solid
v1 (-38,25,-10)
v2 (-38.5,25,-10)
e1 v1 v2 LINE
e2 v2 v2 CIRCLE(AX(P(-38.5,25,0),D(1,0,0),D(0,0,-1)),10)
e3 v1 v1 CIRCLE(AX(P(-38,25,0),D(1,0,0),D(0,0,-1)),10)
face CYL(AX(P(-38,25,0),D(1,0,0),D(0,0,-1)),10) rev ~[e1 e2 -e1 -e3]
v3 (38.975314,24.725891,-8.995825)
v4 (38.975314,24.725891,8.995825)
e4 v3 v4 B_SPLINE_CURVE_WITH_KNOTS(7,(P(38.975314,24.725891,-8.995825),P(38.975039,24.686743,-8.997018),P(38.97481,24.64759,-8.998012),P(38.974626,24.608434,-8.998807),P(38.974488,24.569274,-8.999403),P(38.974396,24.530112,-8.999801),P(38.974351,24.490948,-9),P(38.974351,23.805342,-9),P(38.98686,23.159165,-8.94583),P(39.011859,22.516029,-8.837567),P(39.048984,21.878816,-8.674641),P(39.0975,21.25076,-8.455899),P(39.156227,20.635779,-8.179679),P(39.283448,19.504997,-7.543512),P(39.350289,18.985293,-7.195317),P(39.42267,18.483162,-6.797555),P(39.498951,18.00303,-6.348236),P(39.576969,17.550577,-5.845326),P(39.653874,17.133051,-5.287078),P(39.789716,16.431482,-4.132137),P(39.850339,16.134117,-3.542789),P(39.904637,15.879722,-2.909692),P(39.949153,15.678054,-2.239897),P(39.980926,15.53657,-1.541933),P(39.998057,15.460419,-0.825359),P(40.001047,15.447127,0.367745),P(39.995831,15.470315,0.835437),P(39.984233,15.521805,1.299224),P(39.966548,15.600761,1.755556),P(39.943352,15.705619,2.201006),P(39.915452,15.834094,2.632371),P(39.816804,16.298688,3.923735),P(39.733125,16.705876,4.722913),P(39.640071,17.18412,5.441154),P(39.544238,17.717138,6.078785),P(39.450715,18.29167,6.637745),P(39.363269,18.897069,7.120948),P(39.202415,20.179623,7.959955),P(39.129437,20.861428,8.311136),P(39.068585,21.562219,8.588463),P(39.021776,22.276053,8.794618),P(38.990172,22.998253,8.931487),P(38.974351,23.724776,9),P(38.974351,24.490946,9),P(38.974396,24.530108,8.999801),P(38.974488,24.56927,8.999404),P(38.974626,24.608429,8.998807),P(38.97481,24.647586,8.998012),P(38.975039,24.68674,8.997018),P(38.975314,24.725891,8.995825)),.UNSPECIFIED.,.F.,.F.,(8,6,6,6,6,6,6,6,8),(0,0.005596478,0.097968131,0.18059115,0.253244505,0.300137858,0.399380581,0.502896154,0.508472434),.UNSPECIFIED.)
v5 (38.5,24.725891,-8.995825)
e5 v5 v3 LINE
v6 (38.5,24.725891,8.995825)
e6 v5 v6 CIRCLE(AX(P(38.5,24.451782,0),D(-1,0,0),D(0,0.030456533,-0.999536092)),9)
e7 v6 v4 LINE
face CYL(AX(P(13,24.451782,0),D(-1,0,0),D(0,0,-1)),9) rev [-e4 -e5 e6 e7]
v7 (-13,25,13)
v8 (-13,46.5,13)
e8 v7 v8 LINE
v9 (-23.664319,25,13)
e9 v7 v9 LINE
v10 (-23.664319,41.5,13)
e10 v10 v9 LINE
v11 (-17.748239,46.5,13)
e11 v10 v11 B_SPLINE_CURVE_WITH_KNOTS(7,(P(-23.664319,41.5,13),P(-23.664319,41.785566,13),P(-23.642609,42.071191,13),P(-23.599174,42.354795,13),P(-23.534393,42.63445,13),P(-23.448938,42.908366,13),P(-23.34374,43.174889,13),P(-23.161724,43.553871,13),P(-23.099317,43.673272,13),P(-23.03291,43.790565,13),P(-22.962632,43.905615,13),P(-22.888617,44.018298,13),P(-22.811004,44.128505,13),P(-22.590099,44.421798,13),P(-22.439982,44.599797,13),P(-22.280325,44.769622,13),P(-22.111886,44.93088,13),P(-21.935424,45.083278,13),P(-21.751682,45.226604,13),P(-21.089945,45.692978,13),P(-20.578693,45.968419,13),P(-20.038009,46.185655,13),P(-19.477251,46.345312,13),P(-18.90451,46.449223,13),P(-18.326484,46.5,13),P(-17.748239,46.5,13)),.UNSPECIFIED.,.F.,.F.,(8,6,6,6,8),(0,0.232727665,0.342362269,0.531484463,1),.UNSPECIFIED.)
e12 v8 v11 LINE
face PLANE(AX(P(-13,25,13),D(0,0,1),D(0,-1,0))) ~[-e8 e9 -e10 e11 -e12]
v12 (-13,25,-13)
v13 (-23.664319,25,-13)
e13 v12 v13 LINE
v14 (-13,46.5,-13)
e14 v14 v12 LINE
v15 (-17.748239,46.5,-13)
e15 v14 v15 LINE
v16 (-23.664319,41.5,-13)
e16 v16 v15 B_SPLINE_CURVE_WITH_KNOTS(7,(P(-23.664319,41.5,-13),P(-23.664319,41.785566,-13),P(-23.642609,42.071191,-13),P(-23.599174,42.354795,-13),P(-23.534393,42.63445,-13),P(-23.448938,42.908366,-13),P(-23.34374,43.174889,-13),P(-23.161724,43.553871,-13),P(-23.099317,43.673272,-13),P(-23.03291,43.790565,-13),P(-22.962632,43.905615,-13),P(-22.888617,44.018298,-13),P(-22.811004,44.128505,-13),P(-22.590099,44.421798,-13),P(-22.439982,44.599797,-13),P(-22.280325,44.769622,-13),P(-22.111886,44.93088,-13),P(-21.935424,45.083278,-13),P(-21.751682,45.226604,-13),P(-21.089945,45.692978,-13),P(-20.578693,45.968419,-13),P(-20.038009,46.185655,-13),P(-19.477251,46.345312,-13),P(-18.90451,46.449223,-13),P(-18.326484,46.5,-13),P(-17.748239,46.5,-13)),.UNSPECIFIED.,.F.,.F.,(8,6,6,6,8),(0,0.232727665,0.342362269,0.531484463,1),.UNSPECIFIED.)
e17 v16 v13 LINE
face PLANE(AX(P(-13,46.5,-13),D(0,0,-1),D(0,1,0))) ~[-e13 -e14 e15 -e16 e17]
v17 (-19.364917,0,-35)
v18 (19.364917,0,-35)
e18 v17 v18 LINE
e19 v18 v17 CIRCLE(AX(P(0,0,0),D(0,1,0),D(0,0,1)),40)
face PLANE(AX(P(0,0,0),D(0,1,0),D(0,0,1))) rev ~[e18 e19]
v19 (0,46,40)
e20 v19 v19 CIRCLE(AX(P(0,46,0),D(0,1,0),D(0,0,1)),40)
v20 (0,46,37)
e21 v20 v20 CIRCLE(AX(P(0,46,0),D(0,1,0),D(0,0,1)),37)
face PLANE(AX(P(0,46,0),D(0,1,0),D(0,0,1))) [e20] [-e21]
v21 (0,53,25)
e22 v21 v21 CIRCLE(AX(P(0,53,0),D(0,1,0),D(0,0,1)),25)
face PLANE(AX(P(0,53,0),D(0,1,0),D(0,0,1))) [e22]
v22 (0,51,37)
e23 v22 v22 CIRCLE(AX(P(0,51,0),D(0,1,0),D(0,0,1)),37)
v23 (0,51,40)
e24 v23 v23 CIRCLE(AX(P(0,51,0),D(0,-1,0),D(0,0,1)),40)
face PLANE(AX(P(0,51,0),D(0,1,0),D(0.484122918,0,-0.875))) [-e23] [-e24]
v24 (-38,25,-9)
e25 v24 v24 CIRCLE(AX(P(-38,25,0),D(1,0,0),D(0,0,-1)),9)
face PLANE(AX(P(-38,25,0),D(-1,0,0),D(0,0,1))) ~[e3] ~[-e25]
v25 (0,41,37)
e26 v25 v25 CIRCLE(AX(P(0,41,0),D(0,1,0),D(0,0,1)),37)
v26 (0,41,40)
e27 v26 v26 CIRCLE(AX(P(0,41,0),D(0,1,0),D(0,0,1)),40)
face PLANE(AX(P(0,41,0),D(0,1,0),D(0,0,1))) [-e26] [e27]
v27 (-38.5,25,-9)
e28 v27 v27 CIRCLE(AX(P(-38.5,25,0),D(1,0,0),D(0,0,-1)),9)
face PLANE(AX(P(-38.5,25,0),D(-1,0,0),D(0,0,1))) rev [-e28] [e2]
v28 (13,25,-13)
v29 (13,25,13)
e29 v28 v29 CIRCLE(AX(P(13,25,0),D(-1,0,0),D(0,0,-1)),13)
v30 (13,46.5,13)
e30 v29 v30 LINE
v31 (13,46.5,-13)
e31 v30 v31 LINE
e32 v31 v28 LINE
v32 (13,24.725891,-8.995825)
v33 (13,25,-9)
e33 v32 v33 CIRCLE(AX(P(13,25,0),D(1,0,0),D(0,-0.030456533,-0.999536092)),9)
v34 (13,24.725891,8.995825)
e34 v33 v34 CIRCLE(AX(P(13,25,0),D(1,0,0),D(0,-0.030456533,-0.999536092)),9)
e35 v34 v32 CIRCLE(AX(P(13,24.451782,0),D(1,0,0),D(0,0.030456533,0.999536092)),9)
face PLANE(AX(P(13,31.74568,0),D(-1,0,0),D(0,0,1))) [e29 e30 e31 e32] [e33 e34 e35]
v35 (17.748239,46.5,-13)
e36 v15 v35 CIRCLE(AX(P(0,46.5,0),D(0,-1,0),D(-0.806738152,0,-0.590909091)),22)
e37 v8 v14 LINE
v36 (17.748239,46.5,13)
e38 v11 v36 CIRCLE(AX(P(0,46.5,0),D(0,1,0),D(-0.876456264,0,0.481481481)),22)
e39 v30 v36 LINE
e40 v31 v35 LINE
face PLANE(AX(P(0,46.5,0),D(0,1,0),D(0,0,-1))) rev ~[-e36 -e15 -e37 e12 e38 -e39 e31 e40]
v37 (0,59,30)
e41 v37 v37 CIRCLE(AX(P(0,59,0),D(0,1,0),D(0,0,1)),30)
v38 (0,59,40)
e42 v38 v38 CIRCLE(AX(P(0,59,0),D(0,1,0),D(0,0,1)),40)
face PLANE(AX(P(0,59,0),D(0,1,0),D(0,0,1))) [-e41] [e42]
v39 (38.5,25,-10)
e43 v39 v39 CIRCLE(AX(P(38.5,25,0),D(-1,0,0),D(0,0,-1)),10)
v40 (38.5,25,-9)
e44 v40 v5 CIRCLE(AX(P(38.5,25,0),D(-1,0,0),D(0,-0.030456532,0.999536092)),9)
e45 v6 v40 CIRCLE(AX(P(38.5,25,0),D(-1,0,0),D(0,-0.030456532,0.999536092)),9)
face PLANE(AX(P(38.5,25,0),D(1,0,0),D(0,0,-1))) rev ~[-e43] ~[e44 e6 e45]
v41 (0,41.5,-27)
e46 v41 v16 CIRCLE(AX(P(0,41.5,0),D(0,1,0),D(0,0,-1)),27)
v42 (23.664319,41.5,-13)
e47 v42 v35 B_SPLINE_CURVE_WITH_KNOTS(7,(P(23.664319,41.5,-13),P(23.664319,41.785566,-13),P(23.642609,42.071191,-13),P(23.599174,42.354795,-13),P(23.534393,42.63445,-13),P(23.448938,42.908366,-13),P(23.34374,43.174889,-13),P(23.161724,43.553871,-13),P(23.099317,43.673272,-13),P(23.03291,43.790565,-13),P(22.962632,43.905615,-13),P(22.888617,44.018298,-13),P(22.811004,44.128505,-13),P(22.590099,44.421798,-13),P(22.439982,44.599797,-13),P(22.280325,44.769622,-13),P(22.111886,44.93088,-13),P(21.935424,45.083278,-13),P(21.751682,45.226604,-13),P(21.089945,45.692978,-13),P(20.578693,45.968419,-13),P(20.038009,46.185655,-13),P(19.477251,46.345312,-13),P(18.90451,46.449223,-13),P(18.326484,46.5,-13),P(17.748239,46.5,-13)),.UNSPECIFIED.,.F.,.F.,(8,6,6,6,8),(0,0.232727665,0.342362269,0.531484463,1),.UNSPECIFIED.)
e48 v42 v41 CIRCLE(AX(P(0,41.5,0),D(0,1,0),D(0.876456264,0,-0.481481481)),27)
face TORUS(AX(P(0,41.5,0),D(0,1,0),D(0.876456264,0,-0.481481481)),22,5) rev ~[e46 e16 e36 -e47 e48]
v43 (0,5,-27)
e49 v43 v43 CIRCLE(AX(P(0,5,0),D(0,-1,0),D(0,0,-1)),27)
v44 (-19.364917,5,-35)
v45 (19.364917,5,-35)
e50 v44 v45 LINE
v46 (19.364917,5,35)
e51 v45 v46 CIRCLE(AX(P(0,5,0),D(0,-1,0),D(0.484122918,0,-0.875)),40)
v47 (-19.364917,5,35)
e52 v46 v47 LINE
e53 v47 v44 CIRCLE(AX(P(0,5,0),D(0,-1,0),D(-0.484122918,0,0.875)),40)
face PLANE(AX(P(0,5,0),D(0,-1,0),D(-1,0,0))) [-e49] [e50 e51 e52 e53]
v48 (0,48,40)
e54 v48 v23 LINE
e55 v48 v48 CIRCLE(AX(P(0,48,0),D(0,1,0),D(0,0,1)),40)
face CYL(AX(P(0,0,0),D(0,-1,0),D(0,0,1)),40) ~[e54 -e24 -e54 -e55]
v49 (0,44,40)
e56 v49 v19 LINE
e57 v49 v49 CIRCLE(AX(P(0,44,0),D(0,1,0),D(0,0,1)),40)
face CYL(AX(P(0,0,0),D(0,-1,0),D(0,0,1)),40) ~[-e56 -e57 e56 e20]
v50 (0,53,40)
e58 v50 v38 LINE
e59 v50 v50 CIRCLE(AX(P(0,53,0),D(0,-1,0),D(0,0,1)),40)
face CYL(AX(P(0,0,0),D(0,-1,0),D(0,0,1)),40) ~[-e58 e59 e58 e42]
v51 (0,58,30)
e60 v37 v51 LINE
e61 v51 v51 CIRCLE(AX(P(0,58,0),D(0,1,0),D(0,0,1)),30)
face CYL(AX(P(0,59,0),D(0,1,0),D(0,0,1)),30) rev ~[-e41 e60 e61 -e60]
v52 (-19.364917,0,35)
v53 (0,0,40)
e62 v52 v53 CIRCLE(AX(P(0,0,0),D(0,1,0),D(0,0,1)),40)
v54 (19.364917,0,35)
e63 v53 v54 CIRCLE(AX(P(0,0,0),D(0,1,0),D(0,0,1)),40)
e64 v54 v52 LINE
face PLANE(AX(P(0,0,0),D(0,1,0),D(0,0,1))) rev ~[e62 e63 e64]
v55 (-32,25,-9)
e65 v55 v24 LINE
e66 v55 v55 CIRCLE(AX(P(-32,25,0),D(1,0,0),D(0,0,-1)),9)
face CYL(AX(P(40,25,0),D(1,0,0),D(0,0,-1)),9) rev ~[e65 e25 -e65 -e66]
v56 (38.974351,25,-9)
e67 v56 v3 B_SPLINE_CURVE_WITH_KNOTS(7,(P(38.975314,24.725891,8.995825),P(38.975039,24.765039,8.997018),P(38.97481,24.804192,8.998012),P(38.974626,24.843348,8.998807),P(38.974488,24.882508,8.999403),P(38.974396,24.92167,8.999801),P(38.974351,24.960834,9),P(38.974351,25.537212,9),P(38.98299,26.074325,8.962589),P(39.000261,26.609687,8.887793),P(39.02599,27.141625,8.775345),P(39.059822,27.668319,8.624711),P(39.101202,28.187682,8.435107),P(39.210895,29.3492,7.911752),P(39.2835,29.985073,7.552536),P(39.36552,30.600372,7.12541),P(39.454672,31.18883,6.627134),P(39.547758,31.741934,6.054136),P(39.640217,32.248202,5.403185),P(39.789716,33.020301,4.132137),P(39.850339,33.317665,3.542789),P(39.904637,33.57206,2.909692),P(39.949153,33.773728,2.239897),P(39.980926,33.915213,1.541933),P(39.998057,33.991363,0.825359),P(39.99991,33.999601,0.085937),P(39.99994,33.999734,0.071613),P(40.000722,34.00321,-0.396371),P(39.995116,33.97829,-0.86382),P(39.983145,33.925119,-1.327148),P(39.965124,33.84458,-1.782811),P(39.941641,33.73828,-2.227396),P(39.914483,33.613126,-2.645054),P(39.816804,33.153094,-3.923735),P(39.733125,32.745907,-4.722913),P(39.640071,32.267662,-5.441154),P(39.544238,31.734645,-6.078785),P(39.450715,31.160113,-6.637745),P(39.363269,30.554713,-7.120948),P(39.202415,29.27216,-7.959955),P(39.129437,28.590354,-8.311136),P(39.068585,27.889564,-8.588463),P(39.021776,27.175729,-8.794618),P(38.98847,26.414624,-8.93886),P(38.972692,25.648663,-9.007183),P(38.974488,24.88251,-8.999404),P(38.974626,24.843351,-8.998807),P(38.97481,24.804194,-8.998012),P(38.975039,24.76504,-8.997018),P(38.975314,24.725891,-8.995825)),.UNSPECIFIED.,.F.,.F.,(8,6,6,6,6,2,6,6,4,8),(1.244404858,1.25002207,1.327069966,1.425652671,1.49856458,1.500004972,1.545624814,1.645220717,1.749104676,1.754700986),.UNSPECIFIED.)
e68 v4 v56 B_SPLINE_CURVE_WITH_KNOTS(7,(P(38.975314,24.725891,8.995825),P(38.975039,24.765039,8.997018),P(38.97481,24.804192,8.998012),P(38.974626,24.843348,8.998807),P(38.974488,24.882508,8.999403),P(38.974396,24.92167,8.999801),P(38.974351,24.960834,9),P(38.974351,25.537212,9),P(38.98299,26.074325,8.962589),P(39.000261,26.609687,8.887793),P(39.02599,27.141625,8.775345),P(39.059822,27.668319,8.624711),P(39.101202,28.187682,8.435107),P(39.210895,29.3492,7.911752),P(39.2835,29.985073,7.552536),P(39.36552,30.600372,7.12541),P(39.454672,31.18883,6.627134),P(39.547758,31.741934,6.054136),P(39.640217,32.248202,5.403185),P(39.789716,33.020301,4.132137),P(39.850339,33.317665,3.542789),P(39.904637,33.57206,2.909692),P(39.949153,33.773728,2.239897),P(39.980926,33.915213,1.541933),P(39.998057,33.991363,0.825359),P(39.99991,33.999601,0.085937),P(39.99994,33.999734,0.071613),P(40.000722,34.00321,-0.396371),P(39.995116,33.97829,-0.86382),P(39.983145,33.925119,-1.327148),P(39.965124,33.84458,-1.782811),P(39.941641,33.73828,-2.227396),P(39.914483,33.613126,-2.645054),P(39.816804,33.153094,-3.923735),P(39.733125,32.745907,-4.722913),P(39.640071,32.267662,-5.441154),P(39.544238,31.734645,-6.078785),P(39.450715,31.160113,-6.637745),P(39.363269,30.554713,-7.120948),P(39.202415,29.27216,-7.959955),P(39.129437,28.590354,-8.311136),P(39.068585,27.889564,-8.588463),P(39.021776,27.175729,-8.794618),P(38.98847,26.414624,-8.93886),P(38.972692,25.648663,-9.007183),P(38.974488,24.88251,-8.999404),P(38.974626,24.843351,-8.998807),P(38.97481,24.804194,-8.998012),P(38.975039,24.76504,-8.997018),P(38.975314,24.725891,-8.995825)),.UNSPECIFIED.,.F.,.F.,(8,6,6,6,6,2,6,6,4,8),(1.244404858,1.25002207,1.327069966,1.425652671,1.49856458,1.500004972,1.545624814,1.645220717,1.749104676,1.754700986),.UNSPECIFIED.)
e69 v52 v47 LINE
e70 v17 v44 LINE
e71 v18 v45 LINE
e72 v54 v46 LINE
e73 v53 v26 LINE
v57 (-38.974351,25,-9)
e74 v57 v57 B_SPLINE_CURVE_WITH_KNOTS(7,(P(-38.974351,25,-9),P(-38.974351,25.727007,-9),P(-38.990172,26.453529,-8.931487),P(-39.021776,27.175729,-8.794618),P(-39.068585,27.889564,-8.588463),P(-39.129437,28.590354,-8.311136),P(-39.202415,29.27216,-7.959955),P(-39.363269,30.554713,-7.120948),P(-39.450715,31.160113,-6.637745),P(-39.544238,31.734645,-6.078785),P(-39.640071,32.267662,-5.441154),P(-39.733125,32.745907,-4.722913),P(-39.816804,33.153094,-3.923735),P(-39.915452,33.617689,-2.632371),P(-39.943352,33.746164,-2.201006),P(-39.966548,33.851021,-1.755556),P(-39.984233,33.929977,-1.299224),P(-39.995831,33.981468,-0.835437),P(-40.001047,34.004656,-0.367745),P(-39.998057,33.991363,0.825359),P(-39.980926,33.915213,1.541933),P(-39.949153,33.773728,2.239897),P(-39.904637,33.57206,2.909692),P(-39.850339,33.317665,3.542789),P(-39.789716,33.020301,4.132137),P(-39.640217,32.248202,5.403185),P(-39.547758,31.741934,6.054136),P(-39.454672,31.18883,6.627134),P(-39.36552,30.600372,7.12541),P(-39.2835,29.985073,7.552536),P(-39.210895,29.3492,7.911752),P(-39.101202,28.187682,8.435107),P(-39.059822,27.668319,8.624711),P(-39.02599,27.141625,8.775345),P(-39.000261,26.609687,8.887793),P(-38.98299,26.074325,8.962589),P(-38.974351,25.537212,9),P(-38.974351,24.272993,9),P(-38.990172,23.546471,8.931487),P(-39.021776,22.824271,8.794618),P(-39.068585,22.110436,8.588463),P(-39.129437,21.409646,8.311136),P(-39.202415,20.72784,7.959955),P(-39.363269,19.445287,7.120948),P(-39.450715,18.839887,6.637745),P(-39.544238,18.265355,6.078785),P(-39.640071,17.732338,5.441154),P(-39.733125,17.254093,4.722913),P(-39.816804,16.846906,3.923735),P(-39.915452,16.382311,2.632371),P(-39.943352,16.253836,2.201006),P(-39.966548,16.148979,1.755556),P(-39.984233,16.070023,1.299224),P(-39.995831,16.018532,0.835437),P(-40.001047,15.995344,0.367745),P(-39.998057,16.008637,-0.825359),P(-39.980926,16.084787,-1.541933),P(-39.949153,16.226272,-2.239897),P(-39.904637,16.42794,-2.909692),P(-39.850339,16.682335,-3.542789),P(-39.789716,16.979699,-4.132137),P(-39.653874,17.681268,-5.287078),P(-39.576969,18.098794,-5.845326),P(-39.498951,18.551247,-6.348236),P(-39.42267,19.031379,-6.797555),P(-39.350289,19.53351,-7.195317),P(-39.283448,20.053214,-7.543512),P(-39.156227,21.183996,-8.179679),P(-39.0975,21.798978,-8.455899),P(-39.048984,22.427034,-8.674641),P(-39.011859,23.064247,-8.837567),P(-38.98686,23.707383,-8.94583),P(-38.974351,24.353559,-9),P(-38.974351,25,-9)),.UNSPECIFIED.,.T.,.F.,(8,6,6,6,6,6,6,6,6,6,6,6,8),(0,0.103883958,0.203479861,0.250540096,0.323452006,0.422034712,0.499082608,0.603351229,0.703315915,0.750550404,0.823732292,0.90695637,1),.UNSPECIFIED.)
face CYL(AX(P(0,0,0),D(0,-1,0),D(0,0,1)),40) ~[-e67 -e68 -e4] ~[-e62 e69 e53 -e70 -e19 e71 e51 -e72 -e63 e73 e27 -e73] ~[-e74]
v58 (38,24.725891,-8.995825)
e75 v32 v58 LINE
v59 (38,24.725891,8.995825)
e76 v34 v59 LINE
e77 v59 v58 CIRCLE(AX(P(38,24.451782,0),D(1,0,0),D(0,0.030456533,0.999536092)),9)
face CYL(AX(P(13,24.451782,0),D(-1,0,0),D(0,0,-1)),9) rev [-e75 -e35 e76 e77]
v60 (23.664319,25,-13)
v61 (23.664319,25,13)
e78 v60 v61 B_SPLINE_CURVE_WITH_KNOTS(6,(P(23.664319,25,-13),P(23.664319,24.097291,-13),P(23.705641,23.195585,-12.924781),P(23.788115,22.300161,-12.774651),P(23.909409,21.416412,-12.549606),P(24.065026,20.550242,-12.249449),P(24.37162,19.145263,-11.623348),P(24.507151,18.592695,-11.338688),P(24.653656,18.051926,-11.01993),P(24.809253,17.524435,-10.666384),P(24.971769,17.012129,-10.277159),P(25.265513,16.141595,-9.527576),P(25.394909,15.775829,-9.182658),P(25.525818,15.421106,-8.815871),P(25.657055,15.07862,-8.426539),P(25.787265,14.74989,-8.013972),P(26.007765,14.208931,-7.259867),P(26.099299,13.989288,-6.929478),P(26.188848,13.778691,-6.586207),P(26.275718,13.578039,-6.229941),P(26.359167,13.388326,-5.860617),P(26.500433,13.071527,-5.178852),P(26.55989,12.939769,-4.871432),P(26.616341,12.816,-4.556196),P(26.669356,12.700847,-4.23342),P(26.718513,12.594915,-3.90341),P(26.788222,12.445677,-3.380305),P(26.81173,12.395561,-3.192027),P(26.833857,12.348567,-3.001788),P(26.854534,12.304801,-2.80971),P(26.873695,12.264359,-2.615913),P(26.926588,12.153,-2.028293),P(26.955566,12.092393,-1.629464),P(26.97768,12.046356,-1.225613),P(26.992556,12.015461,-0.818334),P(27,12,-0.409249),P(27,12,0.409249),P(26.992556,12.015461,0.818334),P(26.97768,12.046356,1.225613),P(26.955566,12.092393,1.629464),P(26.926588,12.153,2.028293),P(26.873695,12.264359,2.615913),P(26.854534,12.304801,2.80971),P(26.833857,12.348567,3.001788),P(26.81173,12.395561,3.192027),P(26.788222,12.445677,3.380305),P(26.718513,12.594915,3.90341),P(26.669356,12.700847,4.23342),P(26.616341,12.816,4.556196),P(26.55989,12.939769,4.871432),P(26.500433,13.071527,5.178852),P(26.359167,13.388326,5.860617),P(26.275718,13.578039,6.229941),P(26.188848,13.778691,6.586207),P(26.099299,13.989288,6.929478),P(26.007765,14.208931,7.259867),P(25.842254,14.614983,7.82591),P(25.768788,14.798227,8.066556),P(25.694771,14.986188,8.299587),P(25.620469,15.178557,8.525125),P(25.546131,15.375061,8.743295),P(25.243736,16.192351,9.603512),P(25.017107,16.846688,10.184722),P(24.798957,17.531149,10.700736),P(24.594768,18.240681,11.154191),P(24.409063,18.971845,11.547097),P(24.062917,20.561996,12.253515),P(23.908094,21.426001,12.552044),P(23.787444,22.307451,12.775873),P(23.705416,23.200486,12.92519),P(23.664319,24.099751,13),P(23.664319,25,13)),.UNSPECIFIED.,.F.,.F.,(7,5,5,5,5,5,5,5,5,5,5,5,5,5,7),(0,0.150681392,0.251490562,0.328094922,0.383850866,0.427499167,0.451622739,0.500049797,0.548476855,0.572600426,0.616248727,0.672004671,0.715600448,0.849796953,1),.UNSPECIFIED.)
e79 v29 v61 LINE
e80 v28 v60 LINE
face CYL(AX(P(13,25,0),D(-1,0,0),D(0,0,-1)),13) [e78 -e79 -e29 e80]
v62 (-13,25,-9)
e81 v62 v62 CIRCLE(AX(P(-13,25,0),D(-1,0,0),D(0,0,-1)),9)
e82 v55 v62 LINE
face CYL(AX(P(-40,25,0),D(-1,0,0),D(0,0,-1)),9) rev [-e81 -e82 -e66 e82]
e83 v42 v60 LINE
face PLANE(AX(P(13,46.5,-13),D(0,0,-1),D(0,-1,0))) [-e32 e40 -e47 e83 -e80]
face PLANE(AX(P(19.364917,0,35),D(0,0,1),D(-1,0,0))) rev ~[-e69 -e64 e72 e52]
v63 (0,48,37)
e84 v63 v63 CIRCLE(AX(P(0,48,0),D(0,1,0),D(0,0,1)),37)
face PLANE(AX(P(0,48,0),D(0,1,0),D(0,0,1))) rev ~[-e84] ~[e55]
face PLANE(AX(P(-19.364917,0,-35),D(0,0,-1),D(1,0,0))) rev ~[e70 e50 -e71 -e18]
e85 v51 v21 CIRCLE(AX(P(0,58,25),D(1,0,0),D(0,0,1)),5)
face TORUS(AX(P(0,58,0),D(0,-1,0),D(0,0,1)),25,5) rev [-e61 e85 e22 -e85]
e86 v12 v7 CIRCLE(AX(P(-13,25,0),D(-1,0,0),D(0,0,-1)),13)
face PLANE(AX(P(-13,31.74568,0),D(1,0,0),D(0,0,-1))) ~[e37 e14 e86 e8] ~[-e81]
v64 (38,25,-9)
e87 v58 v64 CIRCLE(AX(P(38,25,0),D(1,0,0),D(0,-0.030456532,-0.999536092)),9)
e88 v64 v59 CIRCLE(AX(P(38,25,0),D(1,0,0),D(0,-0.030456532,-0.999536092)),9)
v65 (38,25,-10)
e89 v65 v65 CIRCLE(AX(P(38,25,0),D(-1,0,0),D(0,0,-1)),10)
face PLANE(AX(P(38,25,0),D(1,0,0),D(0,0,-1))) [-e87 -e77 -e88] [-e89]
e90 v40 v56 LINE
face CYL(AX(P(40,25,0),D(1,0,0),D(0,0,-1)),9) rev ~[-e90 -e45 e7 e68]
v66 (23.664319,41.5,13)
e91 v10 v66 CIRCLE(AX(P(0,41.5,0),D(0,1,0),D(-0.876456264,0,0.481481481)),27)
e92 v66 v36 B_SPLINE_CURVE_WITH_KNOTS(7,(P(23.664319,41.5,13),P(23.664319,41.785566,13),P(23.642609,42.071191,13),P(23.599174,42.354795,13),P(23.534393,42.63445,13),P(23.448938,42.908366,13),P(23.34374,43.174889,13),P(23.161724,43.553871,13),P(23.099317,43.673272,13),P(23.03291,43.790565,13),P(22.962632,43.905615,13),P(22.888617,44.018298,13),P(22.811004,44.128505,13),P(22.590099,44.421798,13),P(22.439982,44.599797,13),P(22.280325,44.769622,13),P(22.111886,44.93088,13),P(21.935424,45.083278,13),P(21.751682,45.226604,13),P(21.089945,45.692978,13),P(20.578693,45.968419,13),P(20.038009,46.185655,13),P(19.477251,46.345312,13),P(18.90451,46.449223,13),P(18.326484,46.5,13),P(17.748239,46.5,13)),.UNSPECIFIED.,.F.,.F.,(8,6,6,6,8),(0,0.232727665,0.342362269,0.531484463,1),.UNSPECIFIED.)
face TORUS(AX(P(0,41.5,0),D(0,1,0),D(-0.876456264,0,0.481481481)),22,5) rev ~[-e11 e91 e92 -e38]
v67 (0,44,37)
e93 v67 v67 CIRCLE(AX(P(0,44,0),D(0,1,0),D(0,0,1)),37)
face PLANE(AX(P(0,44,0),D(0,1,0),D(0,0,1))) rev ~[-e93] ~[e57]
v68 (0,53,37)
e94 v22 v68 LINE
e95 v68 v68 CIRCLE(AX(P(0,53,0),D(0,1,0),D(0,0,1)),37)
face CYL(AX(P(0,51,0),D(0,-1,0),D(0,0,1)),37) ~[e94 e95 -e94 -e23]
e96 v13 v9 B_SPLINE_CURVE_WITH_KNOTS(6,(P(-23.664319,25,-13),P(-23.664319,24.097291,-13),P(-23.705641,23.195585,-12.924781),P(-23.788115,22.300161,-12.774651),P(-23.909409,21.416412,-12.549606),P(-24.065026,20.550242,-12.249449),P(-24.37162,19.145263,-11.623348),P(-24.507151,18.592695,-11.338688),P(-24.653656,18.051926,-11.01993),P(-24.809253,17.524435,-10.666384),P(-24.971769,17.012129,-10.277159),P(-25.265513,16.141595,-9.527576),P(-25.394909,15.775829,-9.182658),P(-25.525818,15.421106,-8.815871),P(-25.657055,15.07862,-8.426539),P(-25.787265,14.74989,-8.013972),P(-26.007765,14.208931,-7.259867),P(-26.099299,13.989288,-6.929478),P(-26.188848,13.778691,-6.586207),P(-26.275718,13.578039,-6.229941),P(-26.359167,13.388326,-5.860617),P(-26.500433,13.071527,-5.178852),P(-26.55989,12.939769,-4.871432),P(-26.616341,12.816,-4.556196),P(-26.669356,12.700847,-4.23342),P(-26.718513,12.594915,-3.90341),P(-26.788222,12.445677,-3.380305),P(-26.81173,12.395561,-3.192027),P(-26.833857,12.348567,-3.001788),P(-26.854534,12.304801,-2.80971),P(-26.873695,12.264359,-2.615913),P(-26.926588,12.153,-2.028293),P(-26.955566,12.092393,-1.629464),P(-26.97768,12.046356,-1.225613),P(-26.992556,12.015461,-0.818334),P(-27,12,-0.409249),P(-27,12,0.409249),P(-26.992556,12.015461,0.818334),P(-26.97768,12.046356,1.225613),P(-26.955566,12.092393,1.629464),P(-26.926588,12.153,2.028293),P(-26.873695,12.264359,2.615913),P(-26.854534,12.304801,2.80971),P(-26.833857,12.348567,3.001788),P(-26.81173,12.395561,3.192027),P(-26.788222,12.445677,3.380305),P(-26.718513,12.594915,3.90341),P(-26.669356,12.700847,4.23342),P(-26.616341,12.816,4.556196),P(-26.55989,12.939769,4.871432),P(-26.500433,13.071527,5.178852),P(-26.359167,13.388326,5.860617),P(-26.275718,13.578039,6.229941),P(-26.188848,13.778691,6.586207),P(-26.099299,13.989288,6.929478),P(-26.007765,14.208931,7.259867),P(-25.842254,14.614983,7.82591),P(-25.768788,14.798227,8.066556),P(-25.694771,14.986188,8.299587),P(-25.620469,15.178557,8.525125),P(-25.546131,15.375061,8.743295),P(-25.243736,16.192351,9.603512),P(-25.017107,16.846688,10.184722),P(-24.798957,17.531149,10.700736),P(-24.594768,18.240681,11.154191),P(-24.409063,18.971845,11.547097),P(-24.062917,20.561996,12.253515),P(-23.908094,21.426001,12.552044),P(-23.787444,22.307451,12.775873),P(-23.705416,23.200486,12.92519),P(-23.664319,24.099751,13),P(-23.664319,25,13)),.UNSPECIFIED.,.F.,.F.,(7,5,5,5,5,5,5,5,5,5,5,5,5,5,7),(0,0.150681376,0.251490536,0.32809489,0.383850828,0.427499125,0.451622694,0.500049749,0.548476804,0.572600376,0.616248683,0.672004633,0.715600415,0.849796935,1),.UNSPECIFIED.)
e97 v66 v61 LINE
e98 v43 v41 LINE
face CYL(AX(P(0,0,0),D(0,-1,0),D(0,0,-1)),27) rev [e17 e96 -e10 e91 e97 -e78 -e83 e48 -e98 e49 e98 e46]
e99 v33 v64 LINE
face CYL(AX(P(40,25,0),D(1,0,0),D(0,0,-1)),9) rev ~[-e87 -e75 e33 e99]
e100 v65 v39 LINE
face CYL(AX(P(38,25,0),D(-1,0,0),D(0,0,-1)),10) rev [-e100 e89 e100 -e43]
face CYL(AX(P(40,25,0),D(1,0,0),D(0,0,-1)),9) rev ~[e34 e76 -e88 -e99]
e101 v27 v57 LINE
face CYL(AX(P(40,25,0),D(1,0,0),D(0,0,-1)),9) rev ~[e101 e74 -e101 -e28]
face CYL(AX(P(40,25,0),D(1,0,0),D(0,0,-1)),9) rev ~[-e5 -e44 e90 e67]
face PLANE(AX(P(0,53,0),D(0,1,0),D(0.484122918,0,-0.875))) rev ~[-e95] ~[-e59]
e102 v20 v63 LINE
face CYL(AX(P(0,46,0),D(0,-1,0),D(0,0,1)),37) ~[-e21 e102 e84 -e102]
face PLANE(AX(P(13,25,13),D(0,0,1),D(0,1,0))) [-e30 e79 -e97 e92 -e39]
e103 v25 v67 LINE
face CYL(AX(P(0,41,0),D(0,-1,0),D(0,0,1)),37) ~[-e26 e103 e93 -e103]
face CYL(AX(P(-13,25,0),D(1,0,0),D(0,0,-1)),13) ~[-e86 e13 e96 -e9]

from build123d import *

# Parameters (mm, degrees)
SKETCH_1_R                                 = 40
EXTRUDE_1_DEPTH                            = 59
CUT_EXTRUDE_1_DEPTH                        = 5
SKETCH_4_R                                 = 9
CUT_EXTRUDE_2_DEPTH                        = 108.14942837
CUT_EXTRUDE_START                          = -2
SKETCH_7_R                                 = 40
SKETCH_7_R_2                               = 37
CUT_EXTRUDE_4_DEPTH                        = 2
SKETCH_8_R                                 = 40
SKETCH_8_R_2                               = 37
CUT_EXTRUDE_5_DEPTH                        = 2
CUT_EXTRUDE_START_2                        = -3
SKETCH_10_R                                = 40
SKETCH_10_R_2                              = 37
CUT_EXTRUDE_6_DEPTH                        = 3
SKETCH_6_R                                 = 30
CUT_EXTRUDE_7_DEPTH                        = 6
FILLET_2_R                                 = 5
SKETCH_17_R                                = 10
CUT_EXTRUDE_11_DEPTH                       = 0.5
MIRROR_1_AT_THE_SECOND_PLANE_COPY_1_SKET_R = 10
MIRROR_1_AT_THE_SECOND_PLANE_COPY_1_DEPTH  = 0.5
SKETCH_13_R                                = 27
CUT_EXTRUDE_12_DEPTH                       = 46.5
EXTRUDE_2_DEPTH                            = 19
SKETCH_21_R                                = 9
CUT_EXTRUDE_13_DEPTH                       = 108.149428482
SKETCH_22_R                                = 9
CUT_EXTRUDE_14_DEPTH                       = 89.82567207
FILLET_7_R                                 = 5


with BuildPart() as part:
    # 草图1 → 凸台-拉伸1 (new body)
    with BuildSketch(Plane(origin=(0, 0, 0), x_dir=(1, 0, 0), z_dir=(0, 1, 0))):
        Circle(SKETCH_1_R)
    extrude(amount=EXTRUDE_1_DEPTH)

    # 草图2 → 切除-拉伸1 (cut)
    with BuildSketch(Plane(origin=(0, 0, 0), x_dir=(-1, 0, 0), z_dir=(0, -1, 0))):
        with BuildLine():
            Line((-19.364916731, -35), (19.364916731, -35))
            ThreePointArc((19.364916731, -35), (40, 0), (19.364916731, 35))
            Line((19.364916731, 35), (-19.364916731, 35))
            ThreePointArc((-19.364916731, 35), (-40, 0), (-19.364916731, -35))
        make_face()
    extrude(amount=-CUT_EXTRUDE_1_DEPTH, mode=Mode.SUBTRACT)

    # 草图4 → 切除-拉伸2 (cut, through all)
    with BuildSketch(Plane(origin=(40, 0, 0), x_dir=(0, 0, -1), z_dir=(1, 0, 0))):
        with Locations((0, 25)):
            Circle(SKETCH_4_R)
    cut_extrude_2 = extrude(amount=-CUT_EXTRUDE_2_DEPTH, mode=Mode.SUBTRACT)

    # 草图7 → 切除-拉伸4 (cut)
    with BuildSketch(Plane(origin=(0, 53, 0), x_dir=(1, 0, 0), z_dir=(0, 1, 0)).offset(CUT_EXTRUDE_START)):
        Circle(SKETCH_7_R)
        Circle(SKETCH_7_R_2, mode=Mode.SUBTRACT)
    extrude(amount=CUT_EXTRUDE_4_DEPTH, mode=Mode.SUBTRACT)

    # 草图8 → 切除-拉伸5 (cut)
    with BuildSketch(Plane(origin=(0, 48, 0), x_dir=(1, 0, 0), z_dir=(0, 1, 0)).offset(CUT_EXTRUDE_START)):
        Circle(SKETCH_8_R)
        Circle(SKETCH_8_R_2, mode=Mode.SUBTRACT)
    extrude(amount=CUT_EXTRUDE_5_DEPTH, mode=Mode.SUBTRACT)

    # 草图10 → 切除-拉伸6 (cut)
    with BuildSketch(Plane(origin=(0, 44, 0), x_dir=(1, 0, 0), z_dir=(0, 1, 0)).offset(CUT_EXTRUDE_START_2)):
        Circle(SKETCH_10_R)
        Circle(SKETCH_10_R_2, mode=Mode.SUBTRACT)
    extrude(amount=CUT_EXTRUDE_6_DEPTH, mode=Mode.SUBTRACT)

    # 草图6 → 切除-拉伸7 (cut)
    with BuildSketch(Plane(origin=(0, 59, 0), x_dir=(1, 0, 0), z_dir=(0, 1, 0))):
        Circle(SKETCH_6_R)
    extrude(amount=-CUT_EXTRUDE_7_DEPTH, mode=Mode.SUBTRACT)

    # 圆角2
    fillet_2_edges = [part.edges().sort_by_distance(p)[0] for p in [
        (-30, 53, 0),
    ]]
    fillet(fillet_2_edges, radius=FILLET_2_R)

    # 草图17 → 切除-拉伸11 (cut)
    with BuildSketch(Plane(origin=(38, 0, 0), x_dir=(0, 0, -1), z_dir=(1, 0, 0))):
        with Locations((0, 25)):
            Circle(SKETCH_17_R)
    cut_extrude_11 = extrude(amount=CUT_EXTRUDE_11_DEPTH, mode=Mode.SUBTRACT)

    # 镜向1: 切除-拉伸11 across plane
    add(cut_extrude_11.mirror(Plane(origin=(0, 0, 0), x_dir=(0, 0, 1), z_dir=(1, 0, 0))), mode=Mode.SUBTRACT)

    # 镜向1 at the second plane: 切除-拉伸11 across plane
    add(cut_extrude_11.mirror(Plane.XY), mode=Mode.SUBTRACT)

    # 镜向1 at the second plane copy 1 sket → 镜向1 at the second plane copy 1 (cut)
    with BuildSketch(Plane.ZY.offset(38)):
        with Locations((0, 25)):
            Circle(MIRROR_1_AT_THE_SECOND_PLANE_COPY_1_SKET_R)
    extrude(amount=MIRROR_1_AT_THE_SECOND_PLANE_COPY_1_DEPTH, mode=Mode.SUBTRACT)

    # 草图13 → 切除-拉伸12 (cut)
    with BuildSketch(Plane(origin=(0, 0, 0), x_dir=(1, 0, 0), z_dir=(0, 1, 0))):
        Circle(SKETCH_13_R)
    extrude(amount=CUT_EXTRUDE_12_DEPTH, mode=Mode.SUBTRACT)

    # 草图16 → 凸台-拉伸2 (add)
    with BuildSketch(Plane(origin=(13, 0, 0), x_dir=(0, 0, -1), z_dir=(1, 0, 0))):
        with BuildLine():
            Line((-13, 25), (-13, 46.5))
            Line((-13, 46.5), (13, 46.5))
            Line((13, 46.5), (13, 25))
            ThreePointArc((13, 25), (0, 12), (-13, 25))
        make_face()
    extrude_2 = extrude(amount=EXTRUDE_2_DEPTH)

    # 草图21 → 切除-拉伸13 (cut, through all)
    with BuildSketch(Plane(origin=(40, 0, 0), x_dir=(0, 0, -1), z_dir=(1, 0, 0))):
        with Locations((0, 25)):
            Circle(SKETCH_21_R)
    extrude(amount=-CUT_EXTRUDE_13_DEPTH, mode=Mode.SUBTRACT)

    # 镜向2: 凸台-拉伸2 across plane
    add(extrude_2.mirror(Plane(origin=(0, 0, 0), x_dir=(0, 0, 1), z_dir=(1, 0, 0))))

    # 草图22 → 切除-拉伸14 (cut, through all)
    with BuildSketch(Plane(origin=(13, 0, 0), x_dir=(0, 0, -1), z_dir=(1, 0, 0))):
        with Locations((0, 24.451782415)):
            Circle(SKETCH_22_R)
    extrude(amount=CUT_EXTRUDE_14_DEPTH, mode=Mode.SUBTRACT)

    # 镜向3: 切除-拉伸2 across plane
    add(cut_extrude_2.mirror(Plane(origin=(0, 0, 0), x_dir=(0, 0, 1), z_dir=(1, 0, 0))), mode=Mode.SUBTRACT)

    # 圆角7
    fillet_7_edges = [part.edges().sort_by_distance(p)[0] for p in [
        (0, 46.5, -27),
        (0, 46.5, 27),
    ]]
    fillet(fillet_7_edges, radius=FILLET_7_R)


solid = part.part
